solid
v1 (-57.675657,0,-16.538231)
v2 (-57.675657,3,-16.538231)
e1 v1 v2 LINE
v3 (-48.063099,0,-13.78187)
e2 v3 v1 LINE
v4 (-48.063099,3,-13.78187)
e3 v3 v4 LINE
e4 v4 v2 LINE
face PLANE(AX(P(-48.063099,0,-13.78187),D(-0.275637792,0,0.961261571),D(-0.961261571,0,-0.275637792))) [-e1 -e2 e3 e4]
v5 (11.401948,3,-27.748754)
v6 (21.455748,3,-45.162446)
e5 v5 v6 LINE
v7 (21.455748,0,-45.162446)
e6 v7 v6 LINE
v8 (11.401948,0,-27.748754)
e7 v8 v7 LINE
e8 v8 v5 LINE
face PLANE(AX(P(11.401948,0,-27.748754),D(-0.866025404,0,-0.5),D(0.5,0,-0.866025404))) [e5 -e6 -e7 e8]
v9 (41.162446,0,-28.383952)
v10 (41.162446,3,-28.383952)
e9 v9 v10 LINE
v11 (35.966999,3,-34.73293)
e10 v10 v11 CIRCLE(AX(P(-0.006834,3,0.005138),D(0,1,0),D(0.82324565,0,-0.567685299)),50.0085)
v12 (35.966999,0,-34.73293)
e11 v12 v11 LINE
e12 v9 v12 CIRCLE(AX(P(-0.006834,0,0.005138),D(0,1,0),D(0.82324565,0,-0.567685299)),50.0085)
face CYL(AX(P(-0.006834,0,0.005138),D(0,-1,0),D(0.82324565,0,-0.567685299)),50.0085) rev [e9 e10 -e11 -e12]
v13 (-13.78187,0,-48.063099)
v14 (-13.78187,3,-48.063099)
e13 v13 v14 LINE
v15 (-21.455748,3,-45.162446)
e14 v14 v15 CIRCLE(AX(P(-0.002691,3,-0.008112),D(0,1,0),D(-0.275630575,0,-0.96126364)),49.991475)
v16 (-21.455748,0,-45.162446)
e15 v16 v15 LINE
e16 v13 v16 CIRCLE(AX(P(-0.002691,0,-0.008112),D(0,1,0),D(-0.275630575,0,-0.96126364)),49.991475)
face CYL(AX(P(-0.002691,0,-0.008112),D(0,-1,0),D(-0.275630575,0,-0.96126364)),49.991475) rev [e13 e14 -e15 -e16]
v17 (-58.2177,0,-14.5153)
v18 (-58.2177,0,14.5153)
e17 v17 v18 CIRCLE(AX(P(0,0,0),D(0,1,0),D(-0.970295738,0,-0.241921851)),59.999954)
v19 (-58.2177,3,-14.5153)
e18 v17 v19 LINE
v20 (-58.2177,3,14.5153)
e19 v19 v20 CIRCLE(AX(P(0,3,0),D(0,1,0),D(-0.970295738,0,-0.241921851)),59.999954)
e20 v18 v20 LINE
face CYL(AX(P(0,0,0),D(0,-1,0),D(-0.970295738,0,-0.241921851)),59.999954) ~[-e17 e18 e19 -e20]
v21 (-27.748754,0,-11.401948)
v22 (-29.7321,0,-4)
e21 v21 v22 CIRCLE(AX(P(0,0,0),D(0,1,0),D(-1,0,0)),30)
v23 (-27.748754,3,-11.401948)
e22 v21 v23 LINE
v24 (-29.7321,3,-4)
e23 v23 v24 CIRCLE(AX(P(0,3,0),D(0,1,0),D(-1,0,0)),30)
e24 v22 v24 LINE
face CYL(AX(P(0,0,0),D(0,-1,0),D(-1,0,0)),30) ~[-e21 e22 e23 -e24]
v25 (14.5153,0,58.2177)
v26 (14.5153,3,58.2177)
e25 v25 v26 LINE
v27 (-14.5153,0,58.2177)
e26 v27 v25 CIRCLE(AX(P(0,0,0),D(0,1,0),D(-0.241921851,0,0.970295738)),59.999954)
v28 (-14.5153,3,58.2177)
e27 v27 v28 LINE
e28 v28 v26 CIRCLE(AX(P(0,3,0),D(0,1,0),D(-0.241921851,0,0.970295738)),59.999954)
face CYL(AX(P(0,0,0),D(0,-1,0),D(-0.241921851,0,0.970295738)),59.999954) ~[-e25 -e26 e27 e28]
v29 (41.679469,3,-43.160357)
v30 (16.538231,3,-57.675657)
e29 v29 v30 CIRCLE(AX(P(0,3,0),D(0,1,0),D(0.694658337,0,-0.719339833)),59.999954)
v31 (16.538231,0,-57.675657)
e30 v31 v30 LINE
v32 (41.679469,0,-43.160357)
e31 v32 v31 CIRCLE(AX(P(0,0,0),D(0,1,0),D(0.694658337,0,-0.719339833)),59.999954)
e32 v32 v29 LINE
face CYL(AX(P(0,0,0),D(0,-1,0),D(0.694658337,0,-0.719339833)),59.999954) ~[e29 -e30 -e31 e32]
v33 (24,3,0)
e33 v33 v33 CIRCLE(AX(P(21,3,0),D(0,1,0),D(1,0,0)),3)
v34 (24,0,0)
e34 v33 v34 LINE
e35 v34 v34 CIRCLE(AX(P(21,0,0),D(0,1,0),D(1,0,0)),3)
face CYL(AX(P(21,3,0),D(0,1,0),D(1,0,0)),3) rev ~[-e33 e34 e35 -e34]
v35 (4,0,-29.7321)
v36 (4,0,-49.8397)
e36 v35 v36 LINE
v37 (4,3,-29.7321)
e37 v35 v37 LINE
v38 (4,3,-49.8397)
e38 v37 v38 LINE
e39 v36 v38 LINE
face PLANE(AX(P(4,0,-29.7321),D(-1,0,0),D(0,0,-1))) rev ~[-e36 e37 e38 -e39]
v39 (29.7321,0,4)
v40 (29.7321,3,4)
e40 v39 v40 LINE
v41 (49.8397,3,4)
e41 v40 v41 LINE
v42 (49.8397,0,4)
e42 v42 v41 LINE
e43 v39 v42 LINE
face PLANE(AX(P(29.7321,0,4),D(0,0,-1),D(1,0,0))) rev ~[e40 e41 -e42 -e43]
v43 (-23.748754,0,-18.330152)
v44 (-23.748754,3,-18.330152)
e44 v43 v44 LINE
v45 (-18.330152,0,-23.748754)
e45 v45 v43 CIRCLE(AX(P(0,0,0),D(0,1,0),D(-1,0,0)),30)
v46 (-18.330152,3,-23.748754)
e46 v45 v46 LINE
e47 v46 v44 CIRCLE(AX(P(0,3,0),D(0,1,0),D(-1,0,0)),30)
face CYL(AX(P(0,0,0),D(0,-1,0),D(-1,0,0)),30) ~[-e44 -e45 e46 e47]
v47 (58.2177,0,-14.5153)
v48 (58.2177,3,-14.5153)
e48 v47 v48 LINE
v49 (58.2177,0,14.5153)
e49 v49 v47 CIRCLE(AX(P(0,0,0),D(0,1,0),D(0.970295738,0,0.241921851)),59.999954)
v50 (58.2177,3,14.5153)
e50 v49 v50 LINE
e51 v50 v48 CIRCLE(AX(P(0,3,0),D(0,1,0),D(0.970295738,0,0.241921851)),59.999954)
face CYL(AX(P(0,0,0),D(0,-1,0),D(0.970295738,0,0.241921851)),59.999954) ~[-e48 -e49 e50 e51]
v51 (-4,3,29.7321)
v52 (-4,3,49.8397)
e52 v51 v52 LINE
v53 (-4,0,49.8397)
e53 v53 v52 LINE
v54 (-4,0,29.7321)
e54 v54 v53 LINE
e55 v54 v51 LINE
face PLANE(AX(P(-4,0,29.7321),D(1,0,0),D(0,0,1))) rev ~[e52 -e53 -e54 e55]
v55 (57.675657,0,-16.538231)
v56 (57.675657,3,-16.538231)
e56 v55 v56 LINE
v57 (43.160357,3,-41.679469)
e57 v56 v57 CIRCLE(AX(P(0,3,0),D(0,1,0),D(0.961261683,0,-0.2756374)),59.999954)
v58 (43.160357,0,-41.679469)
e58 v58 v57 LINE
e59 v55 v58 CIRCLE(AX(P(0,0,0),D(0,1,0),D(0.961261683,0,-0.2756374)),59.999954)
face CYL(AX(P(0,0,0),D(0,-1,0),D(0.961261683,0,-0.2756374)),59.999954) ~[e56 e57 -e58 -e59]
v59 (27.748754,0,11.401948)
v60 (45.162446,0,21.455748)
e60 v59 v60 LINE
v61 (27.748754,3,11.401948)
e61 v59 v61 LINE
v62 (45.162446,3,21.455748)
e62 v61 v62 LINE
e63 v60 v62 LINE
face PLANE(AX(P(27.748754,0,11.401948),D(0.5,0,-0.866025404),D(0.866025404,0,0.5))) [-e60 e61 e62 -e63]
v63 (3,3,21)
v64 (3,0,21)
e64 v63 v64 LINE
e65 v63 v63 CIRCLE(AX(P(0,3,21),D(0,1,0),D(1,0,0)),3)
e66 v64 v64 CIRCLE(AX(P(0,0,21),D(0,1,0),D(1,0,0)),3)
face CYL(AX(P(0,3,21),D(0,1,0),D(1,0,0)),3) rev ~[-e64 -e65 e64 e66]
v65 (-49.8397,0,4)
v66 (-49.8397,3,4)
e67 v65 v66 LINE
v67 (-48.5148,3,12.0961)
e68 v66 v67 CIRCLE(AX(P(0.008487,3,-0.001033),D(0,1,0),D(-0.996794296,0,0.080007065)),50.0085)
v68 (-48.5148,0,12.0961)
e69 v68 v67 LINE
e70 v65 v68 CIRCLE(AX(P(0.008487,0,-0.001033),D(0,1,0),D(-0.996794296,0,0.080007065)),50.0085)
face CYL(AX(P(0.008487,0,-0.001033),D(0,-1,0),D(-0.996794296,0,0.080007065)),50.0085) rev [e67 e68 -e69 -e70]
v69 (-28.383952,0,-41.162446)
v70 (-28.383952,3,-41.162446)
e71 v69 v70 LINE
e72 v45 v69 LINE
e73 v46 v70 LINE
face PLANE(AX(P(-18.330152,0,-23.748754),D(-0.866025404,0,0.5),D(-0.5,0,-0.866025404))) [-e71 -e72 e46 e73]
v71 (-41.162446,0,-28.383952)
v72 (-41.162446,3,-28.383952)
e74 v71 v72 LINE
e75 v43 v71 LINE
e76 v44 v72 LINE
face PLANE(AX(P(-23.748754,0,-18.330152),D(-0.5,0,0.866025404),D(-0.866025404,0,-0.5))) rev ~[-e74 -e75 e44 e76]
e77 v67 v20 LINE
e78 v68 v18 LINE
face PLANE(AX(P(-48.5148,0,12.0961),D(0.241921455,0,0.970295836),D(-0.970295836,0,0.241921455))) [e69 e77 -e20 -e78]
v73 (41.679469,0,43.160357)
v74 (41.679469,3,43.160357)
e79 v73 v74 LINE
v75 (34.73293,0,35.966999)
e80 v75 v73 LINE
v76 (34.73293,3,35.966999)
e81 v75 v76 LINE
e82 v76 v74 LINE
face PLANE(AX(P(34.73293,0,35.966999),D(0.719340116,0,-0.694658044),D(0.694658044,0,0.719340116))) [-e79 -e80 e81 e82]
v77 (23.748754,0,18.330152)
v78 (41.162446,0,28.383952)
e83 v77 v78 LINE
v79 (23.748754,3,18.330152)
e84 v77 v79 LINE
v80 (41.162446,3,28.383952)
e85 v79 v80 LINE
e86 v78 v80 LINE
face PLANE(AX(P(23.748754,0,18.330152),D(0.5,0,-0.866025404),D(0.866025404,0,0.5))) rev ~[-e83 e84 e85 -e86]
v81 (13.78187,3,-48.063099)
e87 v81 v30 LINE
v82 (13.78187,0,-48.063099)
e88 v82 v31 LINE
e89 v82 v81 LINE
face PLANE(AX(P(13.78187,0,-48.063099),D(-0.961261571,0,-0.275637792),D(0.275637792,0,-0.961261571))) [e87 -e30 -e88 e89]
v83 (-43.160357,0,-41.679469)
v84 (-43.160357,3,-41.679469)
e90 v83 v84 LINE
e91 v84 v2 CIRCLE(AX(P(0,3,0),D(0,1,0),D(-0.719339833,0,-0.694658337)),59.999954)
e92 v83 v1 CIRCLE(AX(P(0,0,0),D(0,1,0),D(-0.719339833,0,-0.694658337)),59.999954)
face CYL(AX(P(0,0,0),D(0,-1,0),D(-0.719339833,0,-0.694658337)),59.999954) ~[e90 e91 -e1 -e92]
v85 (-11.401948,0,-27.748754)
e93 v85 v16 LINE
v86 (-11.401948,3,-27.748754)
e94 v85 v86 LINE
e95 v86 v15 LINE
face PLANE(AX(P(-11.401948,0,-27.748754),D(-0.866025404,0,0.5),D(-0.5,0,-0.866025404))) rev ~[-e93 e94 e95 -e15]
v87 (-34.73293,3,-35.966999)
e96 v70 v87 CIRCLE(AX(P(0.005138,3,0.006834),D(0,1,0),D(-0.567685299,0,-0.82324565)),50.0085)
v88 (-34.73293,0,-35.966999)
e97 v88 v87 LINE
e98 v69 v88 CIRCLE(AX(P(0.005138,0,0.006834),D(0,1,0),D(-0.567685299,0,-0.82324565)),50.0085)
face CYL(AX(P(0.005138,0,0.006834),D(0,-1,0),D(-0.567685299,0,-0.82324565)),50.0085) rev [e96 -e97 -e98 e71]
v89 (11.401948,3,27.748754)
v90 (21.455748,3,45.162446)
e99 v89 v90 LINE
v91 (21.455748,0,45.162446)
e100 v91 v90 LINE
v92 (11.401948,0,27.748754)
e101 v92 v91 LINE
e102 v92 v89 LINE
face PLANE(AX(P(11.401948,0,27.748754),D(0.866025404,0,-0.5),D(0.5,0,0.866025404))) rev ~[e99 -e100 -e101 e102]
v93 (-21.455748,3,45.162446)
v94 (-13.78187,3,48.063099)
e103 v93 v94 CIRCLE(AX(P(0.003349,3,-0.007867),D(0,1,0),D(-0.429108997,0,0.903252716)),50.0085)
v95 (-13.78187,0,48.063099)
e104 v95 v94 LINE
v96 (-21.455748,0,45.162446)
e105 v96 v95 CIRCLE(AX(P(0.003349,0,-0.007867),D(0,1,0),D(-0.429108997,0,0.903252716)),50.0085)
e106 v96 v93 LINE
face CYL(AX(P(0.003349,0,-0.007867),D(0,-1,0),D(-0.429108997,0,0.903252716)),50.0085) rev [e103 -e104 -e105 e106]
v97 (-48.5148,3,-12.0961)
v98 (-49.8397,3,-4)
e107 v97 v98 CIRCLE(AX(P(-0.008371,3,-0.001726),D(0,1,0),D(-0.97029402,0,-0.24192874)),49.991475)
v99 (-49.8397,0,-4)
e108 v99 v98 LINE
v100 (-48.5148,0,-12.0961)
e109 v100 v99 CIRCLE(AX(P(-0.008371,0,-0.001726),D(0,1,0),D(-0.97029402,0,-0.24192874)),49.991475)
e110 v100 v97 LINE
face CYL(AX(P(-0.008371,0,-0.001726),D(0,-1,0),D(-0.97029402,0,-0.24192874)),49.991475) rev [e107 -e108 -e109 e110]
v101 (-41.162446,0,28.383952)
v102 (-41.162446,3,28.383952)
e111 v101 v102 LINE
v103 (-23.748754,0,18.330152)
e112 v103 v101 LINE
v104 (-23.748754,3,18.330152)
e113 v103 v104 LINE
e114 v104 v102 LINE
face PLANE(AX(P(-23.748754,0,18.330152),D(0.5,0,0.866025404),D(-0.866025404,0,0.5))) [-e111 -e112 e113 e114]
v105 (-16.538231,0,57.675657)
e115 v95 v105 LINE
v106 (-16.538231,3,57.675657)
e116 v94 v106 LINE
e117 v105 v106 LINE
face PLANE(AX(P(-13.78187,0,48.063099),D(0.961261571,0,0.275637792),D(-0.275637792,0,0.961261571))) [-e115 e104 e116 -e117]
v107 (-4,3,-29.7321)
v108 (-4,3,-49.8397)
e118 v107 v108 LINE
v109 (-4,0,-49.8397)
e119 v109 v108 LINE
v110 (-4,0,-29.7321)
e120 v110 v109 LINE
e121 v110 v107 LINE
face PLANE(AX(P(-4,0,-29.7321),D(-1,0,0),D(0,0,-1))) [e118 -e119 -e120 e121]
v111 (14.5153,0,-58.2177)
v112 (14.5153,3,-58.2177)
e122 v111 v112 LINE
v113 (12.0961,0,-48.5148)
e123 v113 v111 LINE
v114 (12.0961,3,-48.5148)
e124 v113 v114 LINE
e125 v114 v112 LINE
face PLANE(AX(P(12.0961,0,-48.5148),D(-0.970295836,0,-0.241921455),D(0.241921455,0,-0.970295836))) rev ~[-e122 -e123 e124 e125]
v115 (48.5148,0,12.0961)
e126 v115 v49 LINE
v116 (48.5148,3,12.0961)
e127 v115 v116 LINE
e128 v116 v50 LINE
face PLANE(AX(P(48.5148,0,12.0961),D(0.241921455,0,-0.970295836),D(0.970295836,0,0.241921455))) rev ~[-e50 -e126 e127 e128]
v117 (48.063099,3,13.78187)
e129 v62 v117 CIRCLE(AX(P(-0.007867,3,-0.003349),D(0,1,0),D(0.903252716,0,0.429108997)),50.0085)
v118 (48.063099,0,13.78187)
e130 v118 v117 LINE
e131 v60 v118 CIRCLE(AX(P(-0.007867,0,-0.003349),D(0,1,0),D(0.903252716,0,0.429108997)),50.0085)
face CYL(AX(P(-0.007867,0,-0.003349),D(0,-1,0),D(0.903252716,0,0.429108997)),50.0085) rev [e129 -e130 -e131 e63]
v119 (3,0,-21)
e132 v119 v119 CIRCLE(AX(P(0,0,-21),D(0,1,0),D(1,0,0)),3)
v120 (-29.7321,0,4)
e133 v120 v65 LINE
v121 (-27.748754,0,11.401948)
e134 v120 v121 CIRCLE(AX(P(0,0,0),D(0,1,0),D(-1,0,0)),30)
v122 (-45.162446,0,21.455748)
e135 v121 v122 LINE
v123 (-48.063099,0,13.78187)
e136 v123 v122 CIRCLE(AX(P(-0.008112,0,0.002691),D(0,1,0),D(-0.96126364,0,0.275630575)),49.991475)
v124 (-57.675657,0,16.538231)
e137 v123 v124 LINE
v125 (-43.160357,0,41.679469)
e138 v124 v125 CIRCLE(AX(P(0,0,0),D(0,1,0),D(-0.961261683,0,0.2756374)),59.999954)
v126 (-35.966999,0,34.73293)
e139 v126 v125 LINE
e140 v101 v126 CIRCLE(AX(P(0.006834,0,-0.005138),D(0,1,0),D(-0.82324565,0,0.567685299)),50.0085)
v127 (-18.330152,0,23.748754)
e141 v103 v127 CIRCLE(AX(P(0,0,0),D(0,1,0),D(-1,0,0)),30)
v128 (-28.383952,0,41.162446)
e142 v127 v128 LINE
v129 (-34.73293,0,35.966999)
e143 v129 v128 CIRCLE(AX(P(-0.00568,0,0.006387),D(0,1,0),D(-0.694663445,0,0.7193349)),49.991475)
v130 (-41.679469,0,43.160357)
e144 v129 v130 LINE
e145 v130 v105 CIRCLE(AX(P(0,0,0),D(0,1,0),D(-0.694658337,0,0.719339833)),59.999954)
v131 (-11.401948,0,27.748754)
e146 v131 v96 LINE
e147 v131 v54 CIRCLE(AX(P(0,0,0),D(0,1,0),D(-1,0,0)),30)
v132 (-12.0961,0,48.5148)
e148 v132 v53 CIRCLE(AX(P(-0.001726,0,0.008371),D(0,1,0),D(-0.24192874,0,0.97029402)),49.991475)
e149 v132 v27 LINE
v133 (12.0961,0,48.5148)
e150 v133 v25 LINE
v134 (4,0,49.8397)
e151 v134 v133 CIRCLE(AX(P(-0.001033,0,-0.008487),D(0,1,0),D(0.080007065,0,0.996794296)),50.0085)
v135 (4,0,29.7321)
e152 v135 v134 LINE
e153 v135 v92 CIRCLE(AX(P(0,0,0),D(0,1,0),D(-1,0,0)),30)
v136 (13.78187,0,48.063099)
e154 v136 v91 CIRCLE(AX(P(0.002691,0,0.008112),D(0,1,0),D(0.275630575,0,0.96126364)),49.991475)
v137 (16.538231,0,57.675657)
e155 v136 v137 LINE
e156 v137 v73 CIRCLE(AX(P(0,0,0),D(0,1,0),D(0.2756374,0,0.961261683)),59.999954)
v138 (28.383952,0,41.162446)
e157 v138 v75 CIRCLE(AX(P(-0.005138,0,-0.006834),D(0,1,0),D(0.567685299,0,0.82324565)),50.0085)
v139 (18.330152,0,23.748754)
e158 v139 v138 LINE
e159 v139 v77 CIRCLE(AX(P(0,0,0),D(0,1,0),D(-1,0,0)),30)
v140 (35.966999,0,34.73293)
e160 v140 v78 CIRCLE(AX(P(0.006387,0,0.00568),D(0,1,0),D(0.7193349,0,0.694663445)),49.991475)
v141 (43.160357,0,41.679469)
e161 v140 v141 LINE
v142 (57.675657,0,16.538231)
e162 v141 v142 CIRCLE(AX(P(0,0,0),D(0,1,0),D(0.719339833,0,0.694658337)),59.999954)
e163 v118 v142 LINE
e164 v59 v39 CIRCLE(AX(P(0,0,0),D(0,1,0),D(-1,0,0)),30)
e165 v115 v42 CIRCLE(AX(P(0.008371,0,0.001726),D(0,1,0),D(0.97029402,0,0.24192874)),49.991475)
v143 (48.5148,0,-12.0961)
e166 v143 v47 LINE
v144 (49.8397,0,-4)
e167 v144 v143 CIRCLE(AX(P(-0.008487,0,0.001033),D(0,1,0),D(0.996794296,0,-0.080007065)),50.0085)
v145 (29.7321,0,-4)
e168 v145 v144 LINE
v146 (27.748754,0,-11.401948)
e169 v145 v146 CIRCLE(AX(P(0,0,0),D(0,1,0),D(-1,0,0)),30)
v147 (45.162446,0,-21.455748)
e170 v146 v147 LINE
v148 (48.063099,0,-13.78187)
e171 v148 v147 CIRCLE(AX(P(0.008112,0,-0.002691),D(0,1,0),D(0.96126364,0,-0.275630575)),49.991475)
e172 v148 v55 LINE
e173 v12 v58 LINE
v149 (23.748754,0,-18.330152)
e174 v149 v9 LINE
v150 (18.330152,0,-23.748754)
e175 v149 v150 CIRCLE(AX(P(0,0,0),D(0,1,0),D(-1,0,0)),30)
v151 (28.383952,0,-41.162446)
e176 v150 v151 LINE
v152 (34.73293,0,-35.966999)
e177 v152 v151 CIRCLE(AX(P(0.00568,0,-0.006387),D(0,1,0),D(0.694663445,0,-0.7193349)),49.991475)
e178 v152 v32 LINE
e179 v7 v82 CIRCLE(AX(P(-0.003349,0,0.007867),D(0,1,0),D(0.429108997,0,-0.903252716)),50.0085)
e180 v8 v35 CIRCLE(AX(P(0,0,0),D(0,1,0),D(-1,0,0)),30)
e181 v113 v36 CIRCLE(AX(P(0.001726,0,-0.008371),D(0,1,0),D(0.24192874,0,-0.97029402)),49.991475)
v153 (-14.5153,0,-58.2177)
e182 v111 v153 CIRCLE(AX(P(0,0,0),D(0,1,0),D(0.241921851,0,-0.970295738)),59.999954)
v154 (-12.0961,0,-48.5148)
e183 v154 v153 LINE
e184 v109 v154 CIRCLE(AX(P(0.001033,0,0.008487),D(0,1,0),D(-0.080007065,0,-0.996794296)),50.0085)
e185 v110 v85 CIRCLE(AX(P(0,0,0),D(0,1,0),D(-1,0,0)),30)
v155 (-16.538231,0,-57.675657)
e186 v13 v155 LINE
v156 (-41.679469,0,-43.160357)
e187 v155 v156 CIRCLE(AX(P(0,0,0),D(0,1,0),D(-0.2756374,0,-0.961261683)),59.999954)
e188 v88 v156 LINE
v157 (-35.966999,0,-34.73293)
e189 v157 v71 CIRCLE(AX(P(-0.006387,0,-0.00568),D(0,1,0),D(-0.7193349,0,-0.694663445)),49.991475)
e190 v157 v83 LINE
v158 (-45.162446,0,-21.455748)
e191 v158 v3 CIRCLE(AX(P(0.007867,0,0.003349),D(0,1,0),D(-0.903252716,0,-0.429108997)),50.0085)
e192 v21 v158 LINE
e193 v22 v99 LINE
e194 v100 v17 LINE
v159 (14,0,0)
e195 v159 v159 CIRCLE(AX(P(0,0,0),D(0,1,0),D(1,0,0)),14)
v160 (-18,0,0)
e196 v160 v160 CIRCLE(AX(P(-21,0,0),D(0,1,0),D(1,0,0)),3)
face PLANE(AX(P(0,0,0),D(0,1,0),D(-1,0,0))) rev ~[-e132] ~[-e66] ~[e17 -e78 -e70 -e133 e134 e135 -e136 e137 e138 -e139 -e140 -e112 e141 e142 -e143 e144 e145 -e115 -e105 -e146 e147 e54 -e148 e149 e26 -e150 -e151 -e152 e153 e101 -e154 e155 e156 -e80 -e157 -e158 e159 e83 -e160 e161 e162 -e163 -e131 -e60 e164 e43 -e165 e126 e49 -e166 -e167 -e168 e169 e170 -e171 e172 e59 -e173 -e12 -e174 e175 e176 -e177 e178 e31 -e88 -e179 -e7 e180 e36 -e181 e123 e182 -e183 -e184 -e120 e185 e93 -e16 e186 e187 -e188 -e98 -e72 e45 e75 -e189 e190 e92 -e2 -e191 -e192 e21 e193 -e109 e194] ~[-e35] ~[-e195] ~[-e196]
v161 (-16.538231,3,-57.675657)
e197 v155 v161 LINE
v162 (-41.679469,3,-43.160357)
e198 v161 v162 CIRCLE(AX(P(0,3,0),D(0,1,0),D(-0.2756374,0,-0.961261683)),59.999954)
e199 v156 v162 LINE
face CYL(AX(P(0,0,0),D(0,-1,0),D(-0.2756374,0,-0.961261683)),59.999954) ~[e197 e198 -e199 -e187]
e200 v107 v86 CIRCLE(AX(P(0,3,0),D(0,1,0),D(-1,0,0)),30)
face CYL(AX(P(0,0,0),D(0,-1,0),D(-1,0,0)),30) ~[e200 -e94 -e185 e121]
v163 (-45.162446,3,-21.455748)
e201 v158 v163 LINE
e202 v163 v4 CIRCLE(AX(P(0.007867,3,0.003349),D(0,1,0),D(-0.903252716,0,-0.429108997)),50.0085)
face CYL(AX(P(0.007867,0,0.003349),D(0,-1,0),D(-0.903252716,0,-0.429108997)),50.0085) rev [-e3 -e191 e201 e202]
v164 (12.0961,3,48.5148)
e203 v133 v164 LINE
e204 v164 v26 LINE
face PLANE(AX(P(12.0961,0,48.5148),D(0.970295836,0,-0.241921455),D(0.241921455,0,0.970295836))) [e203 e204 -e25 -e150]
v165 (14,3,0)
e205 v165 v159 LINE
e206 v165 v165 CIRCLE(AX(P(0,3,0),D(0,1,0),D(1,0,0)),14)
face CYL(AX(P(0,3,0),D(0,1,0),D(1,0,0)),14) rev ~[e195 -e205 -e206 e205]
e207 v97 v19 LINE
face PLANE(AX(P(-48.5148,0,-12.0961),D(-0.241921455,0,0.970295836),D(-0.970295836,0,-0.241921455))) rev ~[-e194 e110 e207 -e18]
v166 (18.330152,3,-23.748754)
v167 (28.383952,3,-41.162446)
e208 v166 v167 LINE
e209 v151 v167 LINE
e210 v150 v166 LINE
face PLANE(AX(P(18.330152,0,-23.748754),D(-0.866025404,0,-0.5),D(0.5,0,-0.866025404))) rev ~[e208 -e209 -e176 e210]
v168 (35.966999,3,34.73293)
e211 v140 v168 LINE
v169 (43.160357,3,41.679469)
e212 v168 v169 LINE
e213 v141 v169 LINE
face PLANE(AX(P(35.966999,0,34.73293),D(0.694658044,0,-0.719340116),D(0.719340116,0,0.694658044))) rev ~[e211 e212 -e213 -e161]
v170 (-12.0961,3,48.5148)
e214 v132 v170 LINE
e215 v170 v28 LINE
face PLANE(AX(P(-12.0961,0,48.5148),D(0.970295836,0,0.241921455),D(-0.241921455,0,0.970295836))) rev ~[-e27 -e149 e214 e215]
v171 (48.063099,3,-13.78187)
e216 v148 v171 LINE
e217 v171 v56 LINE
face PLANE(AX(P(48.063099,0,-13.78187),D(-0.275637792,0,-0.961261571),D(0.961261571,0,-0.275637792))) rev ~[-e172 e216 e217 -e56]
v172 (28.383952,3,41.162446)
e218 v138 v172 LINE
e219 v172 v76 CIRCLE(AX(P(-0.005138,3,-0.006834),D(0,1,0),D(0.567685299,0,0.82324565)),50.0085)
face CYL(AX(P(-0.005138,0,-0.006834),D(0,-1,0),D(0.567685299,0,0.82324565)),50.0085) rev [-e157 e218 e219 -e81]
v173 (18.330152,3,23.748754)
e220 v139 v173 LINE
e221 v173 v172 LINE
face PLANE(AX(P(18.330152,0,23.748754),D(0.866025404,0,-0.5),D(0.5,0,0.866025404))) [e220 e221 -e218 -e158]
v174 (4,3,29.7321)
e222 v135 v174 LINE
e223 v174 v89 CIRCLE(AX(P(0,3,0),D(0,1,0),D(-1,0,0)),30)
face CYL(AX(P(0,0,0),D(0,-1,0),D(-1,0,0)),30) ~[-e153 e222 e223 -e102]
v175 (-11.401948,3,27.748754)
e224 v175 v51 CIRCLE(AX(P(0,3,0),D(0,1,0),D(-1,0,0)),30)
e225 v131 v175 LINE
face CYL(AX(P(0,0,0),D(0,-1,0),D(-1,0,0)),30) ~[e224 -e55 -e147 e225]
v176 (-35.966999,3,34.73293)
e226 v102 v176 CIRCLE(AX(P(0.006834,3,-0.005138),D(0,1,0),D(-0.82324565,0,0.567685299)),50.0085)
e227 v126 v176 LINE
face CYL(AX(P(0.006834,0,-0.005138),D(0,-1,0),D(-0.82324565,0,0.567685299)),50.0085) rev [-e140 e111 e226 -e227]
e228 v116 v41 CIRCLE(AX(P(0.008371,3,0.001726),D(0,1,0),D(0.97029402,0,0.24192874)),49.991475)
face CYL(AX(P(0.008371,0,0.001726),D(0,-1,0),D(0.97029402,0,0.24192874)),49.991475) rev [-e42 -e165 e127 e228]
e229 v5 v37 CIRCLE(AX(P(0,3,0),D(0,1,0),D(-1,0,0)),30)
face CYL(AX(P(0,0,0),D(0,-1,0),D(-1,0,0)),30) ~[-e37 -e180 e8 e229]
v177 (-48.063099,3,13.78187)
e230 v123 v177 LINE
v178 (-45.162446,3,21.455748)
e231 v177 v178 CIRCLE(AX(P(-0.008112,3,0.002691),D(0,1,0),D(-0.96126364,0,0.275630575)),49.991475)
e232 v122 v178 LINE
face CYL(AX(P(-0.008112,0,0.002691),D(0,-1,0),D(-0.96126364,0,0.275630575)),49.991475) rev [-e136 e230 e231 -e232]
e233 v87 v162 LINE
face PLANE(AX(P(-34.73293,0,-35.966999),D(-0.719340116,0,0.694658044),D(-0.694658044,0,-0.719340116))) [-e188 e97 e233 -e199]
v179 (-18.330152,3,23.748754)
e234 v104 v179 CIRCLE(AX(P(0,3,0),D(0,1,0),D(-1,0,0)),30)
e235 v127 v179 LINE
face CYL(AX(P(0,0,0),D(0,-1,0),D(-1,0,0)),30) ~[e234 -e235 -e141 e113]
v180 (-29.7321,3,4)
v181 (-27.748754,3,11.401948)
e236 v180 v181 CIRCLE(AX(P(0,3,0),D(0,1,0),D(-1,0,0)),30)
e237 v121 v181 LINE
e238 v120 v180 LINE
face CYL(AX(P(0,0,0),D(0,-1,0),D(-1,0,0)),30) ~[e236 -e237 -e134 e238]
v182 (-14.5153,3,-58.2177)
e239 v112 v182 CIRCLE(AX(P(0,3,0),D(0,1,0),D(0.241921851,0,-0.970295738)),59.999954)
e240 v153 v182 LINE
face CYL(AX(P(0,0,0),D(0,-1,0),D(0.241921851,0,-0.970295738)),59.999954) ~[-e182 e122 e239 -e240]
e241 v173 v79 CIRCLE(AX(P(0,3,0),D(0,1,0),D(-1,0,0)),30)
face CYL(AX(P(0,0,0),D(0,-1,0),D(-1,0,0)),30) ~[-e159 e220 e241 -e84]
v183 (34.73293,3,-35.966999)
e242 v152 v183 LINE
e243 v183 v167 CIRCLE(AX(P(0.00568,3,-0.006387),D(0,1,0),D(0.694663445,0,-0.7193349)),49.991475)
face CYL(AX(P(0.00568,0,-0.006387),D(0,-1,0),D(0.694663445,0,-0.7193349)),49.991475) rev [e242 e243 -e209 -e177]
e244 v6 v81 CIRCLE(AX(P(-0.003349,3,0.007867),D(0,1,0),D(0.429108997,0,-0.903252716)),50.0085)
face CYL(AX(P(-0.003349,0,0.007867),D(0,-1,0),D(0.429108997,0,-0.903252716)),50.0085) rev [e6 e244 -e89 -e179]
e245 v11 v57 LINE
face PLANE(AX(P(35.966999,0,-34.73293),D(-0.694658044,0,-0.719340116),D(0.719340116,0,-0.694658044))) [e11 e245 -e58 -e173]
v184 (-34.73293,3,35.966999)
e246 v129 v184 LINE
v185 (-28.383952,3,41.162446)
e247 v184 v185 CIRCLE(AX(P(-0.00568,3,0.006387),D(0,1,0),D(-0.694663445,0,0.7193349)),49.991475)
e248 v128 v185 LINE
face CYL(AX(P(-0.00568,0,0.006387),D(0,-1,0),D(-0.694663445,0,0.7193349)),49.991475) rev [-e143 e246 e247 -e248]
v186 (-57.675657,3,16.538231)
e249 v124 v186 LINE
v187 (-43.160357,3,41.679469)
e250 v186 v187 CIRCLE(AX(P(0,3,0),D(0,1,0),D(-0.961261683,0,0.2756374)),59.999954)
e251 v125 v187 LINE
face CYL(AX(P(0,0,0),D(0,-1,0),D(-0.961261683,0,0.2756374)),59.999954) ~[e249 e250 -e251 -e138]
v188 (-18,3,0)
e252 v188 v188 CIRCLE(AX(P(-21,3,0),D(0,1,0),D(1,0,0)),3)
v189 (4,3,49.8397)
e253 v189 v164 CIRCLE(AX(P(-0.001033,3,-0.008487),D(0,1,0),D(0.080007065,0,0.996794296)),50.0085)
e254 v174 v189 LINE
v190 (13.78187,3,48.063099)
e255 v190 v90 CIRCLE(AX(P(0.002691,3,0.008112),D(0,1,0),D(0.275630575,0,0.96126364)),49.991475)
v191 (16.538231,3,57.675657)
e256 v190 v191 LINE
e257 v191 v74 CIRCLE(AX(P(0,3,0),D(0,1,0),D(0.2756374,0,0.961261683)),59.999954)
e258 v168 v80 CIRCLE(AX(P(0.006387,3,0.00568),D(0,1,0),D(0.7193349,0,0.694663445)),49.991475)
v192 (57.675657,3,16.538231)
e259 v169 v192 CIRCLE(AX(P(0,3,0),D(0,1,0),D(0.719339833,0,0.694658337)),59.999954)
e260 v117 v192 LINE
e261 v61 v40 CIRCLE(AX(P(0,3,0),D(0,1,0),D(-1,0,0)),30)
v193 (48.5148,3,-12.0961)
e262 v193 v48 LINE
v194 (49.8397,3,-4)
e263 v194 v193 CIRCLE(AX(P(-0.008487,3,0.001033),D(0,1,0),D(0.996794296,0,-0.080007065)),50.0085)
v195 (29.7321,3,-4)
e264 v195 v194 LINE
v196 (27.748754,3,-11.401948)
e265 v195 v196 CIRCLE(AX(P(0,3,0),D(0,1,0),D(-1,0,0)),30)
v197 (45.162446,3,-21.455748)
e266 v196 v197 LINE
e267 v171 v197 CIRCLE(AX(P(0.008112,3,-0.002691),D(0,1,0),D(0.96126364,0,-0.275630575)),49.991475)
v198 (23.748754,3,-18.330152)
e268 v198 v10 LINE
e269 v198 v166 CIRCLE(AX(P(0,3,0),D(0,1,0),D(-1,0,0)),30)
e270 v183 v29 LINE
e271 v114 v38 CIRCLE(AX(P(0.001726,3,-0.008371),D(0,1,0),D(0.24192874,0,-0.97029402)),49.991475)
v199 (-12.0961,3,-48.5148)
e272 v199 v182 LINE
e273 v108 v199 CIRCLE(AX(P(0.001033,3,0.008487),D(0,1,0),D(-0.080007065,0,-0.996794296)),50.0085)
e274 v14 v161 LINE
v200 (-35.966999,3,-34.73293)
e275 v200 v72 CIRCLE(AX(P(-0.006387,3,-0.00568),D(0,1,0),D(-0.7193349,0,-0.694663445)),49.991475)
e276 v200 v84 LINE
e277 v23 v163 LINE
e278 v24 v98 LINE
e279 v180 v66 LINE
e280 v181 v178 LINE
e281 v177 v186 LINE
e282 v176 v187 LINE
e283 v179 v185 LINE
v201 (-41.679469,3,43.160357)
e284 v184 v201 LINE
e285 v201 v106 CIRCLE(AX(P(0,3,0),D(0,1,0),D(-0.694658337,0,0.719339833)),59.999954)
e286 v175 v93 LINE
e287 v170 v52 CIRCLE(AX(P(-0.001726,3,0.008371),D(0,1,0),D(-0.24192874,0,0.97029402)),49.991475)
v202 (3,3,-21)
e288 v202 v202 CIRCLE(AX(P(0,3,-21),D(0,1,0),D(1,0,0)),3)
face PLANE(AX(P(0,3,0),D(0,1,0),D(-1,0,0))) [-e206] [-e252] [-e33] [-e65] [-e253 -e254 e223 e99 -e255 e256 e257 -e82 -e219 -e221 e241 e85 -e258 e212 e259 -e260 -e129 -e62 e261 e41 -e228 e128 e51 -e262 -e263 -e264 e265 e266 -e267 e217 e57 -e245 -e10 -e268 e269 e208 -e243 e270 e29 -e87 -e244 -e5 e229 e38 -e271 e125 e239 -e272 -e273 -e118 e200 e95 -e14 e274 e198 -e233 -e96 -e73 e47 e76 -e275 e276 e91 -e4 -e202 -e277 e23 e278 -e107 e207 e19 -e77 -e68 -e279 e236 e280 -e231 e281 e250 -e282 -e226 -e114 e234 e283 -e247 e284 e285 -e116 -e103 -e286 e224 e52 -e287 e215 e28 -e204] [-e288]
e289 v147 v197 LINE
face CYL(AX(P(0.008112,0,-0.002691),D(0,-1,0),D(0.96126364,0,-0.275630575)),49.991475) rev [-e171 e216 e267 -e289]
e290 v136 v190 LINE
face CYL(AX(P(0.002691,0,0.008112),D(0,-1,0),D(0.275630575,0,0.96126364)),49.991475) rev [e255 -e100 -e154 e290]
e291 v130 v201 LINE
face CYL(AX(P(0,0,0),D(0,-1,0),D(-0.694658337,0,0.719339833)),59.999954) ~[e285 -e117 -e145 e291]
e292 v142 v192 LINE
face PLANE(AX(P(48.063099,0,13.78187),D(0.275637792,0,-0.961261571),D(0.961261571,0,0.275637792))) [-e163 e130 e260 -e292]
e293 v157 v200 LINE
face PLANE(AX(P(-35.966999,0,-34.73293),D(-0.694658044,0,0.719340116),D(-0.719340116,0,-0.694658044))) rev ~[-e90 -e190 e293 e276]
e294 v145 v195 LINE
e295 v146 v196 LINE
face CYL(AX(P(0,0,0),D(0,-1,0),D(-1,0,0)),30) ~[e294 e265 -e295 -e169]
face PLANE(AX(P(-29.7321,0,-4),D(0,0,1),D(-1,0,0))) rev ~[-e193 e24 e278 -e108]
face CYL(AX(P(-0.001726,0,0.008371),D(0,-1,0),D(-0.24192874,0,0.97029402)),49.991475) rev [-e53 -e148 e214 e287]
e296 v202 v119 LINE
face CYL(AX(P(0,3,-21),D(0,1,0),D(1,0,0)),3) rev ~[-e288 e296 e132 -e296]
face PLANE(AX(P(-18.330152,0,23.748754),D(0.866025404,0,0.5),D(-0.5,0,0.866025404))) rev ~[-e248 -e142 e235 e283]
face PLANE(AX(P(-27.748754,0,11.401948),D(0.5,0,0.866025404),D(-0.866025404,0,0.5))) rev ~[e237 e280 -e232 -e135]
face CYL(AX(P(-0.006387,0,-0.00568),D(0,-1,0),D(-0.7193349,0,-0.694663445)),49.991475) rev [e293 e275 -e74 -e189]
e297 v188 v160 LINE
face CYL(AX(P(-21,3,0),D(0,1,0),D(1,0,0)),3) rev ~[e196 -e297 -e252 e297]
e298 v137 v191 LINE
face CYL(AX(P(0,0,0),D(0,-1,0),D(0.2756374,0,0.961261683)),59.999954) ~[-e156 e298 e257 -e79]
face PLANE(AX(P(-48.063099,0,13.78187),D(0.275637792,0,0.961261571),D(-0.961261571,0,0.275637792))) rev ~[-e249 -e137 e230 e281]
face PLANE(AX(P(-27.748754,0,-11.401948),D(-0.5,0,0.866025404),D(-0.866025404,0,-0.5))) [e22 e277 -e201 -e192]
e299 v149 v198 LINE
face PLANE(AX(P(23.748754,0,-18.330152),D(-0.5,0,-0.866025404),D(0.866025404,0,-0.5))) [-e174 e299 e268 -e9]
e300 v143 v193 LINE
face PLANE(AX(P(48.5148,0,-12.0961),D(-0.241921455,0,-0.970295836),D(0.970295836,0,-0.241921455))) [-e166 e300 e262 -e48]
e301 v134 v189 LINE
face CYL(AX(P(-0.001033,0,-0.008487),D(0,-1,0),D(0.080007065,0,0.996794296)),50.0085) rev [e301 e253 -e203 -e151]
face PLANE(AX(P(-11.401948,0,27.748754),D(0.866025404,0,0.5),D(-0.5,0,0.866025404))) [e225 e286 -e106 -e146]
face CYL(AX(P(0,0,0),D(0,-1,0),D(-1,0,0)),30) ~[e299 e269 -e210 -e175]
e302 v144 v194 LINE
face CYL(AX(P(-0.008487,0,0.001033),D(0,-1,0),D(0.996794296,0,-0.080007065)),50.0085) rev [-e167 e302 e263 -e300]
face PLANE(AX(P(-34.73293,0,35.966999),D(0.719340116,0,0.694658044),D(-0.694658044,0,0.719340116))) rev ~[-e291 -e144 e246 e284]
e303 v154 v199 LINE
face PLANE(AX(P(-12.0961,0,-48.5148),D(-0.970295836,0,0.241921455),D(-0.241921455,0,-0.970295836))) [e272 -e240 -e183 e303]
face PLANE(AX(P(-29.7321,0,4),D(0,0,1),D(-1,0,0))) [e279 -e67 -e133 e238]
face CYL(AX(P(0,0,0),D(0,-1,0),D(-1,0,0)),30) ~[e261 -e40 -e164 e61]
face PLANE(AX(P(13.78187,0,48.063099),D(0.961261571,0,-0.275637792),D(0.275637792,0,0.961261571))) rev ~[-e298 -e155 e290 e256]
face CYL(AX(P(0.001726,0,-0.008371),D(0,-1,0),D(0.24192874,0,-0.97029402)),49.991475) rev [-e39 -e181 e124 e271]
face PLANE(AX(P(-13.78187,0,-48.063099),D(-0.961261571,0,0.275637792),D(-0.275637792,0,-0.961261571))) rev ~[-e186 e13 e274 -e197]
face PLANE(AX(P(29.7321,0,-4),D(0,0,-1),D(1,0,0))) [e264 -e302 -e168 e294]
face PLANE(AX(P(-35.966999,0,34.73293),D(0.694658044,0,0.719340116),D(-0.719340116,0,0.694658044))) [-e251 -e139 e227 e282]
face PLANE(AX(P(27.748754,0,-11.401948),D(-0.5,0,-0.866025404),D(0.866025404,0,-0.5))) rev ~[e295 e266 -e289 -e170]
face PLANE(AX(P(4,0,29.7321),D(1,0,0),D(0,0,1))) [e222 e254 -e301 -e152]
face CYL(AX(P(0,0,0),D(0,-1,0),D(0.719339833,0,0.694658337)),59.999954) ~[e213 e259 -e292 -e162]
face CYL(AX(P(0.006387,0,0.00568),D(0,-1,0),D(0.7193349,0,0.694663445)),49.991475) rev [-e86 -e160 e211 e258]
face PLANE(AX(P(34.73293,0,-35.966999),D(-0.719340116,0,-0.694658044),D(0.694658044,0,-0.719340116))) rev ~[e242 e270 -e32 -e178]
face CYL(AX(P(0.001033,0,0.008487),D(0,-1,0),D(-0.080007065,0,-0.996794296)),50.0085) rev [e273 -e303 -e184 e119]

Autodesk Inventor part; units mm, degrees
ref_plane "YZ Plane" through (0, 0, 0) normal (1, 0, 0) x (0, 1, 0)
ref_plane "XZ Plane" through (0, 0, 0) normal (0, 1, 0) x (-1, 0, 0)
ref_plane "XY Plane" through (0, 0, 0) normal (0, 0, 1) x (1, 0, 0)
sketch "Sketch2" plane through (0, 0, 0) normal (0, 1, 0) x (-1, 0, 0)
  circle A0 centre (0, 0) radius 30
  circle A1 centre (0, 0) radius 50 construction
  circle A2 centre (0, 0) radius 60 construction
  line L0 (0, 0) -> (60, 0) construction
  line L1 (48.5148, 12.0961) -> (58.2177, 14.5153)
  line L2 (29.7321, 4) -> (49.8397, 4)
  line L3 (48.5148, -12.0961) -> (58.2177, -14.5153)
  line L4 (29.7321, -4) -> (49.8397, -4)
  arc A3 (58.2177, -14.5153) -> (58.2177, 14.5153) centre (0, 0) ccw
  arc A4 (49.8397, 4) -> (48.5148, 12.0961) centre (0, 0) ccw
  arc A5 (48.5148, -12.0961) -> (49.8397, -4) centre (0, 0) ccw
  point P0 (30, 0)
  dimension "d3" = 60
  dimension "d4" = 100
  dimension "d5" = 120
  dimension "d6" = 8
  dimension "d7" = 28
extrude "Extrusion1" add sketch "Sketch2" along normal blind 3 contours A0 L2 A4 L1 A3 L3 A5 L4
pattern_circular "Circular Pattern1" count 12 over 360 about axis through (0, -10, 0) along (0, 1, 0) of "Extrusion1"
extrude "Extrusion2" add sketch "Sketch2" along normal blind 3 contours A0
sketch "Sketch3" plane through (0, 3, 0) normal (0, 1, 0) x (1, 0, 0)
  circle A0 centre (-21, 0) radius 3
  line L0 (0, 0) -> (-21, 0) construction
  circle A1 centre (0, -21) radius 3
  circle A2 centre (21, 0) radius 3
  circle A3 centre (0, 0) radius 14
  circle A4 centre (0, 21) radius 3
  dimension "d15" = 21
  dimension "d16" = 6
  dimension "d19" = 360
  dimension "d21" = 28
extrude "Extrusion3" cut sketch "Sketch3" against normal blind 3
properties part number "lamina_estator"
